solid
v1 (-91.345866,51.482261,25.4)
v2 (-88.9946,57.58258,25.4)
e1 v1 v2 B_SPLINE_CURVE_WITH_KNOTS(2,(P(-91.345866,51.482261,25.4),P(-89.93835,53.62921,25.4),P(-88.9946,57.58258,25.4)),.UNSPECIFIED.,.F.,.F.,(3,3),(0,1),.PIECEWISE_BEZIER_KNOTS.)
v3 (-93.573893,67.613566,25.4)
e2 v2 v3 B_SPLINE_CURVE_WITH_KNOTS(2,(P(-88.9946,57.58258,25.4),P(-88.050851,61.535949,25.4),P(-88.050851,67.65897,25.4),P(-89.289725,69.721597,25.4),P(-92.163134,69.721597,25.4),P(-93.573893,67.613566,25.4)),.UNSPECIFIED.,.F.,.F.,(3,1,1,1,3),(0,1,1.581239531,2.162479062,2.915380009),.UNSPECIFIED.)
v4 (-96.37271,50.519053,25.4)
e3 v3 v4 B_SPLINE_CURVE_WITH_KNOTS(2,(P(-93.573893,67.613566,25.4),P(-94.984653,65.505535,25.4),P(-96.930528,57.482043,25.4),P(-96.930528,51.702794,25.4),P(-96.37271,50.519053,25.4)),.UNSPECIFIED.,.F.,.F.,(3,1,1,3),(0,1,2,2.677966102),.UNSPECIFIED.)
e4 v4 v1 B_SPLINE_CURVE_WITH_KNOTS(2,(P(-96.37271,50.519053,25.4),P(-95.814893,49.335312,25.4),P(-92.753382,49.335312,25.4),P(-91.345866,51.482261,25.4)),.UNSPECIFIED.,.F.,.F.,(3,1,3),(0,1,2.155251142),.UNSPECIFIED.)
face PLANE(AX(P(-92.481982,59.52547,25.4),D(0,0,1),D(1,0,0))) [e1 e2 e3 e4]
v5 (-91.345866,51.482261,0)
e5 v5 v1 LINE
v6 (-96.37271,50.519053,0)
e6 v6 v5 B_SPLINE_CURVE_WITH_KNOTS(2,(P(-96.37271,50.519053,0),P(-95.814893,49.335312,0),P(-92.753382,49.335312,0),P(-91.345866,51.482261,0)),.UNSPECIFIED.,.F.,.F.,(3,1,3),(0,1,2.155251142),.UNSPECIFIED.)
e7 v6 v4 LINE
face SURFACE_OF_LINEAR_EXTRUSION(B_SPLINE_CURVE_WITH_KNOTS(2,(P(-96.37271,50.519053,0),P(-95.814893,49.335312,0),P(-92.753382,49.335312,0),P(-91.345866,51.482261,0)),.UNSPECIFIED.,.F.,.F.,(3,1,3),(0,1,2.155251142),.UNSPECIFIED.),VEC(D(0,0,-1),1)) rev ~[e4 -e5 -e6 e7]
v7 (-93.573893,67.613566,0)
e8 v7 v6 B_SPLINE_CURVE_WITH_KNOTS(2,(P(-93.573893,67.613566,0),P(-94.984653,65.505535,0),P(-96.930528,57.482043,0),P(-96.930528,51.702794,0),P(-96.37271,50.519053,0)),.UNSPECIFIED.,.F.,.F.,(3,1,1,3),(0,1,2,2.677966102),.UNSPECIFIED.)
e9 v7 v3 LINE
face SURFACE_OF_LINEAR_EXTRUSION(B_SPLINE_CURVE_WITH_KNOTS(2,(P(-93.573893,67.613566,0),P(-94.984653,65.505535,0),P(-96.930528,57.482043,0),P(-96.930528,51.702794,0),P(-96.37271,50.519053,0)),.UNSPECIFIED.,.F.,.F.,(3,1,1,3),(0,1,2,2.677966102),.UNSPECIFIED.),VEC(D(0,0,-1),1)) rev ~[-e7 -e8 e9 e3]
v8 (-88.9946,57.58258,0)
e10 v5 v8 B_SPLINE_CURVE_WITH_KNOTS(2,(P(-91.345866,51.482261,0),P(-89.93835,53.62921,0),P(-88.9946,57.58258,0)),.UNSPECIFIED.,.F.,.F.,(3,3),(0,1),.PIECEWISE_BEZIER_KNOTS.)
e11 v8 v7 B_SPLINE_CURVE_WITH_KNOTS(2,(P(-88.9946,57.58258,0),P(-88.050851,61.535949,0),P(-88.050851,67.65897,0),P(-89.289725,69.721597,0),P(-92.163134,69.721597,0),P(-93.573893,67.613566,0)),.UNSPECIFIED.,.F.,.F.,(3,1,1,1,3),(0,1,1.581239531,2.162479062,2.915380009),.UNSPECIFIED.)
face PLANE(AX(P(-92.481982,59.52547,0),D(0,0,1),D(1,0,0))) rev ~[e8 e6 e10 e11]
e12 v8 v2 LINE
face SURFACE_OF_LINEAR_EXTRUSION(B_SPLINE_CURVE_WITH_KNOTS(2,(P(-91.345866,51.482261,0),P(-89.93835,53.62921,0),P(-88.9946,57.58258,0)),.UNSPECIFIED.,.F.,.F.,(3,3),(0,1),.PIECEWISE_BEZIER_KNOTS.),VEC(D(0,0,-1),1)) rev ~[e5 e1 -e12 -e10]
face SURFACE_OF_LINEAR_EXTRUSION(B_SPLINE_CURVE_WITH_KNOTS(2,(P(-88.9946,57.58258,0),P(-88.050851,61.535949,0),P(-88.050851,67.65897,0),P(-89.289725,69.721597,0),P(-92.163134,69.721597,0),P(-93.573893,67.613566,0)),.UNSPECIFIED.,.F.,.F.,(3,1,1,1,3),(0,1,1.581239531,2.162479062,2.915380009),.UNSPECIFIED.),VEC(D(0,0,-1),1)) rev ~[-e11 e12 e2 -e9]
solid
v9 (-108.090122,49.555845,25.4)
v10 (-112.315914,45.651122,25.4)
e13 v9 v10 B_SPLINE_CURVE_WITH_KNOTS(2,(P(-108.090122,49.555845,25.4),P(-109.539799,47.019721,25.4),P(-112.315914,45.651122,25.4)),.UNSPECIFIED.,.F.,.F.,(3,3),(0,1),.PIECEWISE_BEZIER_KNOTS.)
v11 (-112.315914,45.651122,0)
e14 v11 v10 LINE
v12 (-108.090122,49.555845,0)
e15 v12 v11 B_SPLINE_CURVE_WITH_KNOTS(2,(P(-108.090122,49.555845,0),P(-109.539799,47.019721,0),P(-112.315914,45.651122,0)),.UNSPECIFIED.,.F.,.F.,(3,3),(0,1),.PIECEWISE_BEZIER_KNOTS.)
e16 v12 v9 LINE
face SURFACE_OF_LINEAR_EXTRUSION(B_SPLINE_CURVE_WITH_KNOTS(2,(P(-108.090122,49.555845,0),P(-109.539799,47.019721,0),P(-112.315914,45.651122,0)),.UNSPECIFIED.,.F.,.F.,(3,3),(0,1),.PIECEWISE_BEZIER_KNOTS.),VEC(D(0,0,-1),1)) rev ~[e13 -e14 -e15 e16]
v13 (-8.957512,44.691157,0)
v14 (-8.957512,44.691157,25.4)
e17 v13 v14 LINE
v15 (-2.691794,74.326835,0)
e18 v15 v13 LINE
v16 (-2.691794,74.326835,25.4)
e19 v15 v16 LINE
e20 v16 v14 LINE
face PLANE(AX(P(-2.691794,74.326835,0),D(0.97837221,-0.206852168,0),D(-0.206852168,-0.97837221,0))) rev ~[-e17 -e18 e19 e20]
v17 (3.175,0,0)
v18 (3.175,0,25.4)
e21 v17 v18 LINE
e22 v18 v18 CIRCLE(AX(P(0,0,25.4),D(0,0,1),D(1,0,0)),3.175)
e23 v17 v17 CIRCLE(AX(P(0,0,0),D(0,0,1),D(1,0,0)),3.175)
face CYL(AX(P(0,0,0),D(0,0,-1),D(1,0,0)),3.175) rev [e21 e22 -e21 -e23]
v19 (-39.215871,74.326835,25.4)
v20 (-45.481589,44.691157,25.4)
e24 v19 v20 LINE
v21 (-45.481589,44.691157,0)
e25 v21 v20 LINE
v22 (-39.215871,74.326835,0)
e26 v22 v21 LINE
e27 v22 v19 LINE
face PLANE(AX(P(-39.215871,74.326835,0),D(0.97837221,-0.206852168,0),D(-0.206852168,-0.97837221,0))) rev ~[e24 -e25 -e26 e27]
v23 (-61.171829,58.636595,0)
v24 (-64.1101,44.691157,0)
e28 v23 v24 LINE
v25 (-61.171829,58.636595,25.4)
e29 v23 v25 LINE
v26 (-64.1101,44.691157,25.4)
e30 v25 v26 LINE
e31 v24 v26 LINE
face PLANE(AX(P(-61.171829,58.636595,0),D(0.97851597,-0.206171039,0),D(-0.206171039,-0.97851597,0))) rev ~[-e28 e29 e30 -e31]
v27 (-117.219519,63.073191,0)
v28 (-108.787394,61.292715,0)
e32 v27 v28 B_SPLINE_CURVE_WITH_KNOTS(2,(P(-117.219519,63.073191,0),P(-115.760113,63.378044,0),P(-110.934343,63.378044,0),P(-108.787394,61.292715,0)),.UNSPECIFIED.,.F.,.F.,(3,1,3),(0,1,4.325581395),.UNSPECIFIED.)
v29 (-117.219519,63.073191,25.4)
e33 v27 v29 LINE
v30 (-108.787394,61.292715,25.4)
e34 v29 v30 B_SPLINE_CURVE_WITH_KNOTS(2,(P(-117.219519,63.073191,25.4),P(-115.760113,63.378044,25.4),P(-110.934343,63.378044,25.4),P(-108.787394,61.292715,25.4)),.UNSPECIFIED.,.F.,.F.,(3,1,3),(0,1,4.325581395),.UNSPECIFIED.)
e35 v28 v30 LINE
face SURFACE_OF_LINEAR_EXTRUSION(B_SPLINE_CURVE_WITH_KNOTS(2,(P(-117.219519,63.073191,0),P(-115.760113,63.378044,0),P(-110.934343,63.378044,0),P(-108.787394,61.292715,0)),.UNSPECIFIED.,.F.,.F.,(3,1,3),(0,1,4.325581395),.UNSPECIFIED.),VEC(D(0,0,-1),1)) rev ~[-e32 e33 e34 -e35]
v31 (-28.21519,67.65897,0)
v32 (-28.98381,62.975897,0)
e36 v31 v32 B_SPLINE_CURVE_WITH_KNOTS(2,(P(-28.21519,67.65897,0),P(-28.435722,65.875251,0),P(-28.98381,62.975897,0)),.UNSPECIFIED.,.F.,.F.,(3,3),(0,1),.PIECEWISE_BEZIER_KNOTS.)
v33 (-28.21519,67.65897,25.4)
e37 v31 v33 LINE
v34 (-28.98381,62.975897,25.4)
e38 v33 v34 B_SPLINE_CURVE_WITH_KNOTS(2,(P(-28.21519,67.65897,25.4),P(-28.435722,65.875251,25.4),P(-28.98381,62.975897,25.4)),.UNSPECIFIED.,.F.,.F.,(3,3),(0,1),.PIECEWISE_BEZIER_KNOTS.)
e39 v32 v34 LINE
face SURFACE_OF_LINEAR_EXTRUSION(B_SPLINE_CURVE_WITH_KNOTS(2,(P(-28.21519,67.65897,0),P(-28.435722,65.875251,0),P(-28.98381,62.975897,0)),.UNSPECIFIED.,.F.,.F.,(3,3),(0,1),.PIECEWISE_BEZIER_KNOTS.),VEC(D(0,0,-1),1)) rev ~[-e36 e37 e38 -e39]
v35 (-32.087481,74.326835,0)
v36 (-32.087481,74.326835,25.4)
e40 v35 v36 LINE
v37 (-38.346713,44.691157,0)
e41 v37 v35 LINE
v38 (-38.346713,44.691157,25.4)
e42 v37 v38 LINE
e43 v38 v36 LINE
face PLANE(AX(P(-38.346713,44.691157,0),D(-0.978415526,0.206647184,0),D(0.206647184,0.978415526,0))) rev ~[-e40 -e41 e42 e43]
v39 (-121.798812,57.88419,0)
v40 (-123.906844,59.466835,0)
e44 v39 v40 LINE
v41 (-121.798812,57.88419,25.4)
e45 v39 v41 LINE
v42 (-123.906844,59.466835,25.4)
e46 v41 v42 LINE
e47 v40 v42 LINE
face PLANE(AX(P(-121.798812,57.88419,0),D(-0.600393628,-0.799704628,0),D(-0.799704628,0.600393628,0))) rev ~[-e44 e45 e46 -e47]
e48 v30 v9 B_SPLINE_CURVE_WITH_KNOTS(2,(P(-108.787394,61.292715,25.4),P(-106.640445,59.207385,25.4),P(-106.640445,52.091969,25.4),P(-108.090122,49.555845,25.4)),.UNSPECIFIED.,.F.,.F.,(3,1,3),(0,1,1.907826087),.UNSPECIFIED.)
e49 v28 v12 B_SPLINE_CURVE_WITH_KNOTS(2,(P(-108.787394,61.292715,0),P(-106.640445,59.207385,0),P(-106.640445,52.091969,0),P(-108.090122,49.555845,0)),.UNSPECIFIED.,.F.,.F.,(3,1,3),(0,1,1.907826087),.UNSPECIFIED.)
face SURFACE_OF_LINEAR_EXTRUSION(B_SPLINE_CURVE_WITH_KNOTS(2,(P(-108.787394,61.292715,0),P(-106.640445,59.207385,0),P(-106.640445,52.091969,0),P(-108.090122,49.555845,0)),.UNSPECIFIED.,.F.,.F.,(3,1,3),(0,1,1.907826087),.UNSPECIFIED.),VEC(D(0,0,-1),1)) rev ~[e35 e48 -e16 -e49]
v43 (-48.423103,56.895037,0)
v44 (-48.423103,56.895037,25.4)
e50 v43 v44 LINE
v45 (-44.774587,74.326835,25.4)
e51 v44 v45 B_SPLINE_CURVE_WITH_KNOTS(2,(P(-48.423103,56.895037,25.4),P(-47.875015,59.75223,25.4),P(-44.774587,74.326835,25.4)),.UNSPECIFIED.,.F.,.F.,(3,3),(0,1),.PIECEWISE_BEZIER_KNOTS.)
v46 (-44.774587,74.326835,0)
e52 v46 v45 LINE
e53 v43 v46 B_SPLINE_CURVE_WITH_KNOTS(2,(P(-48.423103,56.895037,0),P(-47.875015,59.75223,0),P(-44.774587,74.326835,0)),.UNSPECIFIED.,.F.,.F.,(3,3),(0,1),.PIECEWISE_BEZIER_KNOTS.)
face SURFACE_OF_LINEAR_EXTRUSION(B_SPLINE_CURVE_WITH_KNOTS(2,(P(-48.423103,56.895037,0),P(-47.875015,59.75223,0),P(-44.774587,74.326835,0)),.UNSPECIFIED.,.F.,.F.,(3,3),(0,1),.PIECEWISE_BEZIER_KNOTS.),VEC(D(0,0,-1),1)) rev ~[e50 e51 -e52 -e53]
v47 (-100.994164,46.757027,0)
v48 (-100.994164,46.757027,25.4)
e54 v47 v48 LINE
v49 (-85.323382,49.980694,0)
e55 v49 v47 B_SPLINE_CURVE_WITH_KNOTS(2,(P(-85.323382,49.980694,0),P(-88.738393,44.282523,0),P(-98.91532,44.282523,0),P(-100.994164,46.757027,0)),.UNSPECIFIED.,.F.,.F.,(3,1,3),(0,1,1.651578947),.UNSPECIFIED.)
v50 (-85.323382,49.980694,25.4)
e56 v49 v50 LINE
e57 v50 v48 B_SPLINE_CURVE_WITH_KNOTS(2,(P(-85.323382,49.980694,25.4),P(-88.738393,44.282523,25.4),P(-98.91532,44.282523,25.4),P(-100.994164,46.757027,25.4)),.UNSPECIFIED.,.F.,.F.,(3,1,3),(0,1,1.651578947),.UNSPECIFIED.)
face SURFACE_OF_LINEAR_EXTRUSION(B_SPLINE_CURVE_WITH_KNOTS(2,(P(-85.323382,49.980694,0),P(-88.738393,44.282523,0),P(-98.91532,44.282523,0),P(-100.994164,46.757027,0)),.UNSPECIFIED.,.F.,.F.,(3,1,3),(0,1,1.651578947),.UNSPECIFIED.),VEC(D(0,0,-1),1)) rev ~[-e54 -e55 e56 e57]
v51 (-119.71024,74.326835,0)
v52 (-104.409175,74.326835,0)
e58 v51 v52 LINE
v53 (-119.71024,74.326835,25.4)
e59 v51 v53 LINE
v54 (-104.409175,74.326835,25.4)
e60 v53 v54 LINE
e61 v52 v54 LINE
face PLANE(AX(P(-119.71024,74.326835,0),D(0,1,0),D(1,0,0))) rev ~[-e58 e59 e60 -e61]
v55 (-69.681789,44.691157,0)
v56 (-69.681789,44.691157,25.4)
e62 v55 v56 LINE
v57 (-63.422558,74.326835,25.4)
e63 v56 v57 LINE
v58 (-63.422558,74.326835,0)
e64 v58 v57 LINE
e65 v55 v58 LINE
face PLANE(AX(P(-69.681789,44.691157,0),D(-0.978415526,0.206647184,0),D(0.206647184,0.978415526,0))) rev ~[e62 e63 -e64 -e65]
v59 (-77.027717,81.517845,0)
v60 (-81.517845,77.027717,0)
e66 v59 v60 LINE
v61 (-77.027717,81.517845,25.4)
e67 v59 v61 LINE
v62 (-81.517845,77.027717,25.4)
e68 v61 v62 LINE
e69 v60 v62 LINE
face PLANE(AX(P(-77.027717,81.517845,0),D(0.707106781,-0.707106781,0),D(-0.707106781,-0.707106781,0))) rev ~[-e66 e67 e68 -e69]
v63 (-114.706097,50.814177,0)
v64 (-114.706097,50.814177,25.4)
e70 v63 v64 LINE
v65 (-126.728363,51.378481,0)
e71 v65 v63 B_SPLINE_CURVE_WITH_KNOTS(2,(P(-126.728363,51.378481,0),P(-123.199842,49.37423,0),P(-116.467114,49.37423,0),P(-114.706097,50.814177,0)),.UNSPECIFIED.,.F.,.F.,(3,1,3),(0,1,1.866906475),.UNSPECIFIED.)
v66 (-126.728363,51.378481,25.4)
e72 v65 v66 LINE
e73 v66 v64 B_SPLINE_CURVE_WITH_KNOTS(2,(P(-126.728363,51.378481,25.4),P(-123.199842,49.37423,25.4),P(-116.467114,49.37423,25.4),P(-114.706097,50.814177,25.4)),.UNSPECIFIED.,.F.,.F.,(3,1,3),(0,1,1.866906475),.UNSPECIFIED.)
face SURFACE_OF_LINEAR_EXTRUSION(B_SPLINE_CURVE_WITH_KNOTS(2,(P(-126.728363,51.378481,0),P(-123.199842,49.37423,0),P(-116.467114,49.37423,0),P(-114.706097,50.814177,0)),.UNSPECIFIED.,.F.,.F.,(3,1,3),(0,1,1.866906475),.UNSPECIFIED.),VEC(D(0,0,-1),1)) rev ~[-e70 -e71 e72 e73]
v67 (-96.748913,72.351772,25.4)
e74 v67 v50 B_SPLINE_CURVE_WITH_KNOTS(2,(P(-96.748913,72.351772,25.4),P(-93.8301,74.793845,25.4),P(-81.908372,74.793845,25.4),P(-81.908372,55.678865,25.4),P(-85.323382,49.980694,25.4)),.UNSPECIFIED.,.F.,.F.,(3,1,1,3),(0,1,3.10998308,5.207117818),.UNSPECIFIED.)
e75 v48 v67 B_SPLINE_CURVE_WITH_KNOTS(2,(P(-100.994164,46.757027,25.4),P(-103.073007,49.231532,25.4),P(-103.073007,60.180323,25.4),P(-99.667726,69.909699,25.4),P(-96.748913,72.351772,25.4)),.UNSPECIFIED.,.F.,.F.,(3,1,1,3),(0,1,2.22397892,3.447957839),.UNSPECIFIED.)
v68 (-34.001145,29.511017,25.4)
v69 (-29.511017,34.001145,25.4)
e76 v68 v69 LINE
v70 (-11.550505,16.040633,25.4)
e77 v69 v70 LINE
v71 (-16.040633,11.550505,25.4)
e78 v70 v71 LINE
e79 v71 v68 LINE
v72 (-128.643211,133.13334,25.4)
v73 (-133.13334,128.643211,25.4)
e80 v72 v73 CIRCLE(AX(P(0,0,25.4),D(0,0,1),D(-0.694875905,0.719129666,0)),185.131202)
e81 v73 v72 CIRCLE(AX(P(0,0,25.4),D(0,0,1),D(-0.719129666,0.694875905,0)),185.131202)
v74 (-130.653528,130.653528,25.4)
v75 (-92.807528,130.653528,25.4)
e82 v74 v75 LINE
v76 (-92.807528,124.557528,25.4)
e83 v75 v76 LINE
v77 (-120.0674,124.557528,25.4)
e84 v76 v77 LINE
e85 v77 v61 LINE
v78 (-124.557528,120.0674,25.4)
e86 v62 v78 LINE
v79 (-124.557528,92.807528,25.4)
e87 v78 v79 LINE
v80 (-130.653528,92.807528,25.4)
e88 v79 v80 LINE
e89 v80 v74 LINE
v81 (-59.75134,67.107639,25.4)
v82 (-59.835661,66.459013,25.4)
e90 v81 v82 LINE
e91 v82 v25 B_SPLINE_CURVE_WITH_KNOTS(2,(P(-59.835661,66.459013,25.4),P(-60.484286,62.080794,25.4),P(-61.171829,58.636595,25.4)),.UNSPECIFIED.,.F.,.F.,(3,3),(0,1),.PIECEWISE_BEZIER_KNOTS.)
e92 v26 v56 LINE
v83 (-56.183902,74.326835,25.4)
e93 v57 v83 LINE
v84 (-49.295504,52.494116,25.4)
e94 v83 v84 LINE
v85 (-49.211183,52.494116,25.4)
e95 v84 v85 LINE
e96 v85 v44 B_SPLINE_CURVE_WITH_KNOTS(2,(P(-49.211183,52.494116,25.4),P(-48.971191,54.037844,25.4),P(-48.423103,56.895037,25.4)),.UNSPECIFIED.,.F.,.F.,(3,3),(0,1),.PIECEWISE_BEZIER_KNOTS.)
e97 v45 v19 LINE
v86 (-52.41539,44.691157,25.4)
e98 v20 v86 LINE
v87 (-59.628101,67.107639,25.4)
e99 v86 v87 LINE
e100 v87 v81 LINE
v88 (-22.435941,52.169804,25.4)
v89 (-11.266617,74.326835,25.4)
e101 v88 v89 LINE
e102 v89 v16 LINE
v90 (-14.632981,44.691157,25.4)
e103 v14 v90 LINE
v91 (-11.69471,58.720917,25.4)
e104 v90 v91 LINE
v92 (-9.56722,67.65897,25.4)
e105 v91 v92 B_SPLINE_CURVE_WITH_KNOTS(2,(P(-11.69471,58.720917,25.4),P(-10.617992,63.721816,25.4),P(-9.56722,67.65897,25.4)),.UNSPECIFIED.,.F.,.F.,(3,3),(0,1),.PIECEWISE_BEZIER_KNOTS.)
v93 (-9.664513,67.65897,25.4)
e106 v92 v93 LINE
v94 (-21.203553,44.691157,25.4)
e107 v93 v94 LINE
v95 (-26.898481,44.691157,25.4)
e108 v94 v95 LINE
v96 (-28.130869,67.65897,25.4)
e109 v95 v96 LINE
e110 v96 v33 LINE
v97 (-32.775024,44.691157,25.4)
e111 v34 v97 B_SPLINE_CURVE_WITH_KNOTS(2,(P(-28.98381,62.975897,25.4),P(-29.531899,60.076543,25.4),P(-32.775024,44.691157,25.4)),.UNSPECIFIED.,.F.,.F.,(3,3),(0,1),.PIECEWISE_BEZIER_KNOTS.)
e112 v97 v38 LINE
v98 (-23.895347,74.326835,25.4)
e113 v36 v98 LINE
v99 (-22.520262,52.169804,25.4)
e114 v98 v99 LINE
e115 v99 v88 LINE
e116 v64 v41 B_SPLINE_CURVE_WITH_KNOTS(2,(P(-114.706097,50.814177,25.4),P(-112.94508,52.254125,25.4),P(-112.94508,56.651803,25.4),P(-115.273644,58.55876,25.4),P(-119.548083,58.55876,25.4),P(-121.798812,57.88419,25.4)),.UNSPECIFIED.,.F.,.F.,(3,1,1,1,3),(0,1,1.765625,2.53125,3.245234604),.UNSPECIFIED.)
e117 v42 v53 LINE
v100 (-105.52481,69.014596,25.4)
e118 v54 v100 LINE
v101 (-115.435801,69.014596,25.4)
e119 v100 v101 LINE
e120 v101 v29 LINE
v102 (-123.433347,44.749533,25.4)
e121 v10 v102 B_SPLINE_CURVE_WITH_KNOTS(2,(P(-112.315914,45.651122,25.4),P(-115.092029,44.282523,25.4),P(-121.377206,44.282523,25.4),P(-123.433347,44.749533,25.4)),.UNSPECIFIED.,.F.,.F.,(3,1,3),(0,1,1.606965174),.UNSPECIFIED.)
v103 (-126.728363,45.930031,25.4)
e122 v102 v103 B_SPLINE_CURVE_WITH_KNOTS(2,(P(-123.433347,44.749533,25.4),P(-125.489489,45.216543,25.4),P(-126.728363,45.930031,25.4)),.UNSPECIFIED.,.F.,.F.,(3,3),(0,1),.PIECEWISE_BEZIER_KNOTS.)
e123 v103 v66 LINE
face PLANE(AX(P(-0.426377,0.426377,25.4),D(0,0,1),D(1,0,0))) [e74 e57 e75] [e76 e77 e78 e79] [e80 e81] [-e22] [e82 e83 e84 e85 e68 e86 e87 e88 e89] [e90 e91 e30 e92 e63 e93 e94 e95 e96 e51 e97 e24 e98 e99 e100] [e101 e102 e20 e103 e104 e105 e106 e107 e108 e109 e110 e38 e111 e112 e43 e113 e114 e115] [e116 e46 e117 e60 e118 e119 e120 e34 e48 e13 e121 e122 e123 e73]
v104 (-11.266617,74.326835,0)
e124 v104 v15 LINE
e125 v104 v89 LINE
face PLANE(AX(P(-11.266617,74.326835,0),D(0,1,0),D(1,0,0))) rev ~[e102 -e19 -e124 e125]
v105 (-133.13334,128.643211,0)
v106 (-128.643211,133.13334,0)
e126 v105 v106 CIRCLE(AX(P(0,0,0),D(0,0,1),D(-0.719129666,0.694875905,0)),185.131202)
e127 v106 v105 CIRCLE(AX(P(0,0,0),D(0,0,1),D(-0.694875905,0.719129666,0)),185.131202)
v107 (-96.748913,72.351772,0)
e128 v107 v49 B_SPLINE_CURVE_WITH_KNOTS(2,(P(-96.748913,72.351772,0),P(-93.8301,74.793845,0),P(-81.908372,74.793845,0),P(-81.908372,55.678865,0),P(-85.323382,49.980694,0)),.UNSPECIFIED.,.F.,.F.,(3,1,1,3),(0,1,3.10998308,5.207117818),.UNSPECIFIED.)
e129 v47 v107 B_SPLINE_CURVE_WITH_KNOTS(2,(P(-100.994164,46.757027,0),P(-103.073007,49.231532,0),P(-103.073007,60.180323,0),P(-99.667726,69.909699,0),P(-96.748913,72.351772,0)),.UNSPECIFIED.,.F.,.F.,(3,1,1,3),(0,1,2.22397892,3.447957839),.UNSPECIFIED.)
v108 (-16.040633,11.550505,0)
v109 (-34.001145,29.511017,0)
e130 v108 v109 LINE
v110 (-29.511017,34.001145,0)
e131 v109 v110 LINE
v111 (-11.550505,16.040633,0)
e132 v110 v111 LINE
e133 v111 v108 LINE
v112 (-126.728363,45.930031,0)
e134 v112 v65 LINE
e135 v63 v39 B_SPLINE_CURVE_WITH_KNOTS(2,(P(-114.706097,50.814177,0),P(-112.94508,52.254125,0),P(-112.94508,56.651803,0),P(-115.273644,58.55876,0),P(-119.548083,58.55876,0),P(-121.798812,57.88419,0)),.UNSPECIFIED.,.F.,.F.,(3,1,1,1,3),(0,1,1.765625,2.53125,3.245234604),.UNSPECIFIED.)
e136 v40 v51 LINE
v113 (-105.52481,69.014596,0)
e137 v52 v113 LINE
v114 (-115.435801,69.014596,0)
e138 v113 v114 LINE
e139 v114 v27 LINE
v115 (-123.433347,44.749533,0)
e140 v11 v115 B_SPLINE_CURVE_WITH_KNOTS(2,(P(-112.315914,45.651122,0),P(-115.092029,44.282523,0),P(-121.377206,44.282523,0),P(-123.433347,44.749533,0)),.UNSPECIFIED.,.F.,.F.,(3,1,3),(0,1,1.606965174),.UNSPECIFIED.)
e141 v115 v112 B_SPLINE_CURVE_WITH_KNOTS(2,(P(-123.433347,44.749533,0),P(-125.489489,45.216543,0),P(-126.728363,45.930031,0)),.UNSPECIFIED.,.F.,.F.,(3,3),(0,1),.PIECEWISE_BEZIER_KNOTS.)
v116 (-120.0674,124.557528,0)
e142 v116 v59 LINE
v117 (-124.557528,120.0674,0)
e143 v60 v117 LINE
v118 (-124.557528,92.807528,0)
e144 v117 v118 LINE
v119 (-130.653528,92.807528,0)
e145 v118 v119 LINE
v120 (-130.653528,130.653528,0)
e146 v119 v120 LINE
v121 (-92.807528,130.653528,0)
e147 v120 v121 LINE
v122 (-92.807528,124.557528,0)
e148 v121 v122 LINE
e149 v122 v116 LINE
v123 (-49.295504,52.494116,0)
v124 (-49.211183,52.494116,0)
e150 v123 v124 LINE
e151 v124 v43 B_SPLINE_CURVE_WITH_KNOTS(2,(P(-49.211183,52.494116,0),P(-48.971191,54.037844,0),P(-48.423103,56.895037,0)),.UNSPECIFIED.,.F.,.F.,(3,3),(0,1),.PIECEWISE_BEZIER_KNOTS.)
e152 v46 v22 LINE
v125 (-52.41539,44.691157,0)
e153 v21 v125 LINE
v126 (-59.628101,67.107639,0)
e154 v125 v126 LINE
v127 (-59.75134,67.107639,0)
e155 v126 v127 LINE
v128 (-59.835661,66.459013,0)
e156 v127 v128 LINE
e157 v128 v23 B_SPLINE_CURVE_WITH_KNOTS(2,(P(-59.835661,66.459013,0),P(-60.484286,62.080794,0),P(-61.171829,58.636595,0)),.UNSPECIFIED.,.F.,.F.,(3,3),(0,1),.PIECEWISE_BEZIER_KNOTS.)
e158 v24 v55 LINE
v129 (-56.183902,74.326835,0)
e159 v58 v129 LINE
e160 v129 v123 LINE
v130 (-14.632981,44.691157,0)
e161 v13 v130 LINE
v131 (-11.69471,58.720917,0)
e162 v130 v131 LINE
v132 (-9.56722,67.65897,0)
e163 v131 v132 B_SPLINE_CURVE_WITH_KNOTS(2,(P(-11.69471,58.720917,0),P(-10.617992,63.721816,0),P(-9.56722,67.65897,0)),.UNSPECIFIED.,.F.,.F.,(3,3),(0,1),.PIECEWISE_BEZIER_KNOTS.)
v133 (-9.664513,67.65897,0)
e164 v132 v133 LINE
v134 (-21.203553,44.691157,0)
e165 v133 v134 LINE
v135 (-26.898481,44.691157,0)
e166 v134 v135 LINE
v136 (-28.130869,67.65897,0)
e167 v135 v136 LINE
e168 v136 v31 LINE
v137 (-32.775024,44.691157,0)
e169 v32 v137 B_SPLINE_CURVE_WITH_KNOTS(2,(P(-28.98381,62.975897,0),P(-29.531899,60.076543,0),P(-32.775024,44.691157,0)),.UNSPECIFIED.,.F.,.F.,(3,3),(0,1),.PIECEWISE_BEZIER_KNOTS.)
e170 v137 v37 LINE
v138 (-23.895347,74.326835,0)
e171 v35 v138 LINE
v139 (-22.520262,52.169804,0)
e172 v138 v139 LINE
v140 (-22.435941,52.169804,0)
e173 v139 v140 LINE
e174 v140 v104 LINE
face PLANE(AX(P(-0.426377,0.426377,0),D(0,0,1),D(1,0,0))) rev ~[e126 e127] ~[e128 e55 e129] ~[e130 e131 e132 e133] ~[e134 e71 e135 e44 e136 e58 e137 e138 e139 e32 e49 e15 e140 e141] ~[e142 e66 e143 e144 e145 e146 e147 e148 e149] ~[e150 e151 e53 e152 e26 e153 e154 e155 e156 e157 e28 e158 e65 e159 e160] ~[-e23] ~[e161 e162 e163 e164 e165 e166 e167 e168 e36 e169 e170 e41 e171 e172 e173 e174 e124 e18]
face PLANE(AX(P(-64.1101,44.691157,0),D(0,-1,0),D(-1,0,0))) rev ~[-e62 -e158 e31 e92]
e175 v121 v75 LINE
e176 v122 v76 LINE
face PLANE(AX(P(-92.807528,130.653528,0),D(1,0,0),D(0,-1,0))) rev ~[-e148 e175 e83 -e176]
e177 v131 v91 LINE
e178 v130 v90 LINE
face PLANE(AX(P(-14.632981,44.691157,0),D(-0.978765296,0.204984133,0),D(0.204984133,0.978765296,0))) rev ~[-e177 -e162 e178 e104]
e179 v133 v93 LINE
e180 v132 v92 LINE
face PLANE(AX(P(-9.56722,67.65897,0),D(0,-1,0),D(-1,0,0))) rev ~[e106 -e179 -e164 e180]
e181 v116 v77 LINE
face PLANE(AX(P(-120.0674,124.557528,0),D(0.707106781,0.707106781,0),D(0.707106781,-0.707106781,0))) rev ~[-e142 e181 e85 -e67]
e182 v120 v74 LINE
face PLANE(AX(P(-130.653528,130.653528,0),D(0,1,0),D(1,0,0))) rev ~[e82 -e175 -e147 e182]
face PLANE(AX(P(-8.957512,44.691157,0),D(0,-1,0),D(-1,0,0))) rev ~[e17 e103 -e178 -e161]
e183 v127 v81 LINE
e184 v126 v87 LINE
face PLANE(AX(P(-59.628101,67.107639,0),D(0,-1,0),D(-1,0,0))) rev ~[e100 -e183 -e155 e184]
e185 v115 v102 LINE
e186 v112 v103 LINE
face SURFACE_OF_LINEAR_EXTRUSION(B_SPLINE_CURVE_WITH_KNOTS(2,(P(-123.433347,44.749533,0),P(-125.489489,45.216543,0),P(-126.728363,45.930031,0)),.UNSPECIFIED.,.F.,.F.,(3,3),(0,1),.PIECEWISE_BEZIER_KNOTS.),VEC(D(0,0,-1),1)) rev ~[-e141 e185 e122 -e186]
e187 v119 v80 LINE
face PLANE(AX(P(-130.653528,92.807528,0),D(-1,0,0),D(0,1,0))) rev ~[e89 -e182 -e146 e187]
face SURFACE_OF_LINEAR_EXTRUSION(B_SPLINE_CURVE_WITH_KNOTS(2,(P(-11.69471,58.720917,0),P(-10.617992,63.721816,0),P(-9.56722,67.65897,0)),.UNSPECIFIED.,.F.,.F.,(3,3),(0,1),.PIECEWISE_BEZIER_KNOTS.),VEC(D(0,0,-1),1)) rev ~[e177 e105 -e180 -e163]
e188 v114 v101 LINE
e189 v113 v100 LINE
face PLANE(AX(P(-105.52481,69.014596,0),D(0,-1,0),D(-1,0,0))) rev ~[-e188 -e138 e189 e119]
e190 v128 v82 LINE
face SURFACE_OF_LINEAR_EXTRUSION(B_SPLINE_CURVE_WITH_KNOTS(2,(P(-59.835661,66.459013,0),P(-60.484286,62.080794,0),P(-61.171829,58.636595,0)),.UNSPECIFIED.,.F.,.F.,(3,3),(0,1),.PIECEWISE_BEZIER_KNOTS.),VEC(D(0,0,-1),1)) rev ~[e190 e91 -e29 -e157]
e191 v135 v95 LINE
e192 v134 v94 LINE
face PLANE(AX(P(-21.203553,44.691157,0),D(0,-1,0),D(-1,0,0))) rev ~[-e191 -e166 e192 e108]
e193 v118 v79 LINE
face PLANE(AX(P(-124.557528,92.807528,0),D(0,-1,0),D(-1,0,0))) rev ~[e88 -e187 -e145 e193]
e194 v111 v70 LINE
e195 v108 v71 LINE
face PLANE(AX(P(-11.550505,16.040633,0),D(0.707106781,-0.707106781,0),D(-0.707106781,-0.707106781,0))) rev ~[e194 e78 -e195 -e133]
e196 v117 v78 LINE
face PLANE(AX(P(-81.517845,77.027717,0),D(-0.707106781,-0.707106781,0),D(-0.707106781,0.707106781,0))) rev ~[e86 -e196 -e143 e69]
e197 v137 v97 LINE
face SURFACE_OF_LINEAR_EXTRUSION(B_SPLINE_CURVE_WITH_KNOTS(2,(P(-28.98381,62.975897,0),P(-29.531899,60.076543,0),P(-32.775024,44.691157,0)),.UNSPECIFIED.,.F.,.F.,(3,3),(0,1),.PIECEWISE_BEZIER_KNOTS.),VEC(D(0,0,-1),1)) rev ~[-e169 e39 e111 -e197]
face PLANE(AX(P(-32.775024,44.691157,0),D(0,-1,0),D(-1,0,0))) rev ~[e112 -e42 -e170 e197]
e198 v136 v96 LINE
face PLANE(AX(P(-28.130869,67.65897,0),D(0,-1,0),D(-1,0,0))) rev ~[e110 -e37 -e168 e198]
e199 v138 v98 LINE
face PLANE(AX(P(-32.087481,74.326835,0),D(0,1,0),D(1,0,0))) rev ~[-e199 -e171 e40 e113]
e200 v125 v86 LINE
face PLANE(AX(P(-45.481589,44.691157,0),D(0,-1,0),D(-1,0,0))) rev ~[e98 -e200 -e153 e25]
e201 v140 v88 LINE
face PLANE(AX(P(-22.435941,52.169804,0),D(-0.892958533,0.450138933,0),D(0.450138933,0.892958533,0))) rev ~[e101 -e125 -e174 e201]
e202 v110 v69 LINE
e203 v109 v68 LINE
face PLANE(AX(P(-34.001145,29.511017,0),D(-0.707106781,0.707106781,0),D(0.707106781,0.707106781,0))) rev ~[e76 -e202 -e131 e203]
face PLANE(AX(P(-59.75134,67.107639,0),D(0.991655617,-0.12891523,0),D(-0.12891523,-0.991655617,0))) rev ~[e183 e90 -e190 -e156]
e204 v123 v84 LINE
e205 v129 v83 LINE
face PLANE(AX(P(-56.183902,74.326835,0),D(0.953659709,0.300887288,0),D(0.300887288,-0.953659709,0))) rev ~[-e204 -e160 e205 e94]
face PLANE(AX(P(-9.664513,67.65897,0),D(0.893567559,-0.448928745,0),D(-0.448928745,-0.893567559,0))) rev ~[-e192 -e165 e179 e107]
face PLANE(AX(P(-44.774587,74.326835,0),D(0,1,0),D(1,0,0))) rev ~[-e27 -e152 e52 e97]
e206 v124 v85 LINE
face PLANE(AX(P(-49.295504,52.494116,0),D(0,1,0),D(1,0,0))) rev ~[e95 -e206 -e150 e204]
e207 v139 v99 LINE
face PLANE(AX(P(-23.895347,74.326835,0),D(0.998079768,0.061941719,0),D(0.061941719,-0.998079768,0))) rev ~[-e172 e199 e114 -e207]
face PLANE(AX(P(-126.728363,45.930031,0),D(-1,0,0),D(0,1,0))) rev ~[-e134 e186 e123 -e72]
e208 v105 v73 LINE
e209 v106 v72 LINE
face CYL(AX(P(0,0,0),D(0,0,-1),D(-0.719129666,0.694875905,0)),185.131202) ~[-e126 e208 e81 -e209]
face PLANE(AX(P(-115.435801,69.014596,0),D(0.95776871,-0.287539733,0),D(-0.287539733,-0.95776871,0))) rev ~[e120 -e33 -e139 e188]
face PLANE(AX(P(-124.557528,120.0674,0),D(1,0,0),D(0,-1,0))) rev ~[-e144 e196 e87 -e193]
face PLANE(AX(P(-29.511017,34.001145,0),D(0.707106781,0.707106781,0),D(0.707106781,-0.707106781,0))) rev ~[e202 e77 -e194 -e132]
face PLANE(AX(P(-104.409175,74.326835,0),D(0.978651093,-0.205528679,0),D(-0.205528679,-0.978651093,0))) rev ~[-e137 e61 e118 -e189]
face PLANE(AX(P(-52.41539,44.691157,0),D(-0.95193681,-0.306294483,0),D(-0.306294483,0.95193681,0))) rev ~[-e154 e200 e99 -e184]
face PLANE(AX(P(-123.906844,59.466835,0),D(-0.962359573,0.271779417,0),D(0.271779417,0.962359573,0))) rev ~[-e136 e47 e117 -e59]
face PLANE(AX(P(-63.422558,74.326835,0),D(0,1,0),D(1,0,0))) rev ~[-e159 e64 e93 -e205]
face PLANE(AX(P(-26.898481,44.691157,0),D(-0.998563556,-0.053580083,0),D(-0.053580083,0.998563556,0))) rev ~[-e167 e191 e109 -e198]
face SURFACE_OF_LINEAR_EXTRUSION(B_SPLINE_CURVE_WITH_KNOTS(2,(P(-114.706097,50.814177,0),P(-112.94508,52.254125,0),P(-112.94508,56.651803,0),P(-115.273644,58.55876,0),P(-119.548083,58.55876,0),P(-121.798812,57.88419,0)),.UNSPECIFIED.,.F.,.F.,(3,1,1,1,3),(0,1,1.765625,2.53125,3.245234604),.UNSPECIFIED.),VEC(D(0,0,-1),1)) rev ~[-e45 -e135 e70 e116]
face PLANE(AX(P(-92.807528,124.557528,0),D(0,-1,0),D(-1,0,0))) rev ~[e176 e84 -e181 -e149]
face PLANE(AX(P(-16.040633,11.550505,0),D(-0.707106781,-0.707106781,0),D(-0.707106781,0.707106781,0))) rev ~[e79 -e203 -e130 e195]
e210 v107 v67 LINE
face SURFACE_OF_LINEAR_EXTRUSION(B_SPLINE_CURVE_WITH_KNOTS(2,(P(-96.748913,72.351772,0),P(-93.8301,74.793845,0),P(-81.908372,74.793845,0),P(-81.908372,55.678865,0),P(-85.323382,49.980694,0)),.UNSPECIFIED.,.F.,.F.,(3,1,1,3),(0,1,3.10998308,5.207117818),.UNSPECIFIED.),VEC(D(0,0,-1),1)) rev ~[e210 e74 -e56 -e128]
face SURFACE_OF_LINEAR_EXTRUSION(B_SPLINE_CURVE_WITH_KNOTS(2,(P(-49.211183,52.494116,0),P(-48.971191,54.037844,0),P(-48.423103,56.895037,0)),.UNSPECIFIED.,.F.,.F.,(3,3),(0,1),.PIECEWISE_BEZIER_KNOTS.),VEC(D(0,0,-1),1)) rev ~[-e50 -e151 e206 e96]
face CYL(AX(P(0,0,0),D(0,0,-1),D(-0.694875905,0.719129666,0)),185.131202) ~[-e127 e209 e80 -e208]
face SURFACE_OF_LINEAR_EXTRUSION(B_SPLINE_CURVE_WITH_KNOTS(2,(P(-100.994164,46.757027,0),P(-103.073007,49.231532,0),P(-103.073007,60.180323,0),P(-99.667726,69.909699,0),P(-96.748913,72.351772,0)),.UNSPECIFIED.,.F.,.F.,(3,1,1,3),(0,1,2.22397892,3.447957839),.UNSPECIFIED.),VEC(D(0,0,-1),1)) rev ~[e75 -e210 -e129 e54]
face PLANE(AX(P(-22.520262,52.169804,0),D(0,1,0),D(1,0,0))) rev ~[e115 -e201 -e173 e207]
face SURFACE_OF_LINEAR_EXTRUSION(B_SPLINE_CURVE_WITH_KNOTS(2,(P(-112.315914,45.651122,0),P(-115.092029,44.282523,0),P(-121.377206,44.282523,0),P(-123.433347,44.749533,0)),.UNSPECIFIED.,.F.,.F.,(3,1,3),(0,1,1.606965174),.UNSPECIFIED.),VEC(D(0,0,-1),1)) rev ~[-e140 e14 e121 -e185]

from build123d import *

# Parameters (mm, degrees)
F0_R     = 3.175
F1_DEPTH = 25.4


with BuildPart() as f1:
    # F0 (on Top) → F1 (new body)
    with BuildSketch(Plane.XY):
        with BuildLine():
            ThreePointArc((-133.1333395345, 128.643211474), (-69.377326194, -171.6401717668), (185.131202, 0))
            ThreePointArc((185.131202, 0), (72.3107515679, 170.4251071927), (-128.643211474, 133.1333395345))
            ThreePointArc((-128.643211474, 133.1333395345), (-130.9075283434, 130.9075283434), (-133.1333395345, 128.643211474))
        make_face()
        Circle(F0_R, mode=Mode.SUBTRACT)
        with BuildLine():
            add(Edge.make_bspline(
                [(-117.2195194436, 63.0731906782), (-115.760113076, 63.3780444528), (-114.6444779861, 63.3780444528)],
                knots=[0, 0, 0, 1, 1, 1], degree=2))
            add(Edge.make_bspline(
                [(-114.6444779861, 63.3780444528), (-110.9343426872, 63.3780444528), (-108.7873937642, 61.2927149098)],
                knots=[0, 0, 0, 1, 1, 1], degree=2))
            add(Edge.make_bspline(
                [(-108.7873937642, 61.2927149098), (-106.6404448413, 59.2073853668), (-106.6404448413, 55.4777913163)],
                knots=[0, 0, 0, 1, 1, 1], degree=2))
            add(Edge.make_bspline(
                [(-106.6404448413, 55.4777913163), (-106.6404448413, 52.0919685436), (-108.0901218331, 49.5558445892)],
                knots=[0, 0, 0, 1, 1, 1], degree=2))
            add(Edge.make_bspline(
                [(-108.0901218331, 49.5558445892), (-109.5397988249, 47.0197206349), (-112.3159140485, 45.6511217747)],
                knots=[0, 0, 0, 1, 1, 1], degree=2))
            add(Edge.make_bspline(
                [(-112.3159140485, 45.6511217747), (-115.0920292722, 44.2825229144), (-119.0032383373, 44.2825229144)],
                knots=[0, 0, 0, 1, 1, 1], degree=2))
            add(Edge.make_bspline(
                [(-119.0032383373, 44.2825229144), (-121.3772060285, 44.2825229144), (-123.4333474442, 44.749532952)],
                knots=[0, 0, 0, 1, 1, 1], degree=2))
            add(Edge.make_bspline(
                [(-123.4333474442, 44.749532952), (-125.4894888598, 45.2165429897), (-126.7283627096, 45.9300305471)],
                knots=[0, 0, 0, 1, 1, 1], degree=2))
            Line((-126.7283627096, 45.9300305471), (-126.7283627096, 51.3784809861))
            add(Edge.make_bspline(
                [(-126.7283627096, 51.3784809861), (-123.1998424253, 49.3742295746), (-119.5934871348, 49.3742295746)],
                knots=[0, 0, 0, 1, 1, 1], degree=2))
            add(Edge.make_bspline(
                [(-119.5934871348, 49.3742295746), (-116.4671143829, 49.3742295746), (-114.7060973661, 50.8141771906)],
                knots=[0, 0, 0, 1, 1, 1], degree=2))
            add(Edge.make_bspline(
                [(-114.7060973661, 50.8141771906), (-112.9450803492, 52.2541248066), (-112.9450803492, 54.7448450073)],
                knots=[0, 0, 0, 1, 1, 1], degree=2))
            add(Edge.make_bspline(
                [(-112.9450803492, 54.7448450073), (-112.9450803492, 56.6518026609), (-114.109362318, 57.6052814877)],
                knots=[0, 0, 0, 1, 1, 1], degree=2))
            add(Edge.make_bspline(
                [(-114.109362318, 57.6052814877), (-115.2736442868, 58.5587603145), (-117.485455715, 58.5587603145)],
                knots=[0, 0, 0, 1, 1, 1], degree=2))
            add(Edge.make_bspline(
                [(-117.485455715, 58.5587603145), (-119.5480833811, 58.5587603145), (-121.7988123125, 57.8841902602)],
                knots=[0, 0, 0, 1, 1, 1], degree=2))
            Line((-121.7988123125, 57.8841902602), (-123.9068437323, 59.4668353877))
            Line((-123.9068437323, 59.4668353877), (-119.7102396442, 74.3268353349))
            Line((-119.7102396442, 74.3268353349), (-104.4091746615, 74.3268353349))
            Line((-104.4091746615, 74.3268353349), (-105.5248097514, 69.0145961569))
            Line((-105.5248097514, 69.0145961569), (-115.4358005499, 69.0145961569))
            Line((-115.4358005499, 69.0145961569), (-117.2195194436, 63.0731906782))
        make_face(mode=Mode.SUBTRACT)
        Polygon((-11.5505048452, 16.0406329059), (-16.0406329058, 11.5505048454), (-34.0011451479, 29.5110170875), (-29.5110170874, 34.0011451481), align=None, mode=Mode.SUBTRACT)
        with BuildLine():
            add(Edge.make_bspline(
                [(-89.9967260004, 74.7938453725), (-81.9083715988, 74.7938453725), (-81.9083715988, 65.2071671002)],
                knots=[0, 0, 0, 1, 1, 1], degree=2))
            add(Edge.make_bspline(
                [(-81.9083715988, 65.2071671002), (-81.9083715988, 55.6788650825), (-85.3233824989, 49.9806939985)],
                knots=[0, 0, 0, 1, 1, 1], degree=2))
            add(Edge.make_bspline(
                [(-85.3233824989, 49.9806939985), (-88.738393399, 44.2825229144), (-94.9003313955, 44.2825229144)],
                knots=[0, 0, 0, 1, 1, 1], degree=2))
            add(Edge.make_bspline(
                [(-94.9003313955, 44.2825229144), (-98.9153204689, 44.2825229144), (-100.9941637614, 46.7570274888)],
                knots=[0, 0, 0, 1, 1, 1], degree=2))
            add(Edge.make_bspline(
                [(-100.9941637614, 46.7570274888), (-103.0730070539, 49.2315320631), (-103.0730070539, 54.1545962097)],
                knots=[0, 0, 0, 1, 1, 1], degree=2))
            add(Edge.make_bspline(
                [(-103.0730070539, 54.1545962097), (-103.0730070539, 60.1803229452), (-101.3703662917, 65.0450108371)],
                knots=[0, 0, 0, 1, 1, 1], degree=2))
            add(Edge.make_bspline(
                [(-101.3703662917, 65.0450108371), (-99.6677255295, 69.909698729), (-96.7489127944, 72.3517720507)],
                knots=[0, 0, 0, 1, 1, 1], degree=2))
            add(Edge.make_bspline(
                [(-96.7489127944, 72.3517720507), (-93.8301000592, 74.7938453725), (-89.9967260004, 74.7938453725)],
                knots=[0, 0, 0, 1, 1, 1], degree=2))
        make_face(mode=Mode.SUBTRACT)
        with BuildLine():
            Line((-39.2158706593, 74.3268353349), (-45.4815886641, 44.6911566973))
            Line((-45.4815886641, 44.6911566973), (-52.4153904727, 44.6911566973))
            Line((-52.4153904727, 44.6911566973), (-59.6281010538, 67.1076385033))
            Line((-59.6281010538, 67.1076385033), (-59.7513398137, 67.1076385033))
            Line((-59.7513398137, 67.1076385033), (-59.8356610705, 66.459013451))
            add(Edge.make_bspline(
                [(-59.8356610705, 66.459013451), (-60.4842861228, 62.0807943483), (-61.1718286782, 58.6365953208)],
                knots=[0, 0, 0, 1, 1, 1], degree=2))
            Line((-61.1718286782, 58.6365953208), (-64.1101001649, 44.6911566973))
            Line((-64.1101001649, 44.6911566973), (-69.6817893638, 44.6911566973))
            Line((-69.6817893638, 44.6911566973), (-63.4225576095, 74.3268353349))
            Line((-63.4225576095, 74.3268353349), (-56.1839020263, 74.3268353349))
            Line((-56.1839020263, 74.3268353349), (-49.2955039714, 52.494116076))
            Line((-49.2955039714, 52.494116076), (-49.2111827146, 52.494116076))
            add(Edge.make_bspline(
                [(-49.2111827146, 52.494116076), (-48.9711914453, 54.0378437003), (-48.4231032761, 56.8950370555)],
                knots=[0, 0, 0, 1, 1, 1], degree=2))
            add(Edge.make_bspline(
                [(-48.4231032761, 56.8950370555), (-47.875015107, 59.7522304107), (-44.7745873572, 74.3268353349)],
                knots=[0, 0, 0, 1, 1, 1], degree=2))
            Line((-44.7745873572, 74.3268353349), (-39.2158706593, 74.3268353349))
        make_face(mode=Mode.SUBTRACT)
        with BuildLine():
            Line((-22.5202618143, 52.1698035498), (-22.4359405575, 52.1698035498))
            Line((-22.4359405575, 52.1698035498), (-11.2666171577, 74.3268353349))
            Line((-11.2666171577, 74.3268353349), (-2.6917939669, 74.3268353349))
            Line((-2.6917939669, 74.3268353349), (-8.9575119716, 44.6911566973))
            Line((-8.9575119716, 44.6911566973), (-14.6329811789, 44.6911566973))
            Line((-14.6329811789, 44.6911566973), (-11.6947096922, 58.7209165776))
            add(Edge.make_bspline(
                [(-11.6947096922, 58.7209165776), (-10.6179921054, 63.7218157305), (-9.5672195208, 67.6589697977)],
                knots=[0, 0, 0, 1, 1, 1], degree=2))
            Line((-9.5672195208, 67.6589697977), (-9.6645132786, 67.6589697977))
            Line((-9.6645132786, 67.6589697977), (-21.2035529582, 44.6911566973))
            Line((-21.2035529582, 44.6911566973), (-26.898480917, 44.6911566973))
            Line((-26.898480917, 44.6911566973), (-28.1308685163, 67.6589697977))
            Line((-28.1308685163, 67.6589697977), (-28.2151897731, 67.6589697977))
            add(Edge.make_bspline(
                [(-28.2151897731, 67.6589697977), (-28.4357222909, 65.875250904), (-28.98381046, 62.9758969204)],
                knots=[0, 0, 0, 1, 1, 1], degree=2))
            add(Edge.make_bspline(
                [(-28.98381046, 62.9758969204), (-29.5318986292, 60.0765429368), (-32.7750238905, 44.6911566973)],
                knots=[0, 0, 0, 1, 1, 1], degree=2))
            Line((-32.7750238905, 44.6911566973), (-38.3467130893, 44.6911566973))
            Line((-38.3467130893, 44.6911566973), (-32.0874813351, 74.3268353349))
            Line((-32.0874813351, 74.3268353349), (-23.8953469251, 74.3268353349))
            Line((-23.8953469251, 74.3268353349), (-22.5202618143, 52.1698035498))
        make_face(mode=Mode.SUBTRACT)
        Polygon((-92.8075283434, 124.5575283434), (-120.0674002829, 124.5575283434), (-77.0277165371, 81.5178445977), (-81.5178445976, 77.0277165372), (-124.5575283434, 120.0674002829), (-124.5575283434, 92.8075283434), (-130.6535283434, 92.8075283434), (-130.6535283434, 130.6535283434), (-92.8075283434, 130.6535283434), align=None, mode=Mode.SUBTRACT)
    extrude(amount=F1_DEPTH)


with BuildPart() as f1b:
    # F0 (on Top) → F1, piece 2 (new body)
    with BuildSketch(Plane.XY):
        with BuildLine():
            add(Edge.make_bspline(
                [(-88.6702877685, 68.6902836308), (-89.2897246934, 69.7215974639), (-90.5415710443, 69.7215974639)],
                knots=[0, 0, 0, 1, 1, 1], degree=2))
            add(Edge.make_bspline(
                [(-90.5415710443, 69.7215974639), (-92.1631336749, 69.7215974639), (-93.5738931636, 67.613566044)],
                knots=[0, 0, 0, 1, 1, 1], degree=2))
            add(Edge.make_bspline(
                [(-93.5738931636, 67.613566044), (-94.9846526522, 65.5055346242), (-95.9575902306, 61.493788676)],
                knots=[0, 0, 0, 1, 1, 1], degree=2))
            add(Edge.make_bspline(
                [(-95.9575902306, 61.493788676), (-96.930527809, 57.4820427278), (-96.930527809, 54.0378437003)],
                knots=[0, 0, 0, 1, 1, 1], degree=2))
            add(Edge.make_bspline(
                [(-96.930527809, 54.0378437003), (-96.930527809, 51.7027935122), (-96.3727102641, 50.5190527918)],
                knots=[0, 0, 0, 1, 1, 1], degree=2))
            add(Edge.make_bspline(
                [(-96.3727102641, 50.5190527918), (-95.8148927191, 49.3353120715), (-94.3944038547, 49.3353120715)],
                knots=[0, 0, 0, 1, 1, 1], degree=2))
            add(Edge.make_bspline(
                [(-94.3944038547, 49.3353120715), (-92.7533824725, 49.3353120715), (-91.3458661091, 51.4822609944)],
                knots=[0, 0, 0, 1, 1, 1], degree=2))
            add(Edge.make_bspline(
                [(-91.3458661091, 51.4822609944), (-89.9383497457, 53.6292099174), (-88.9946002947, 57.5825796109)],
                knots=[0, 0, 0, 1, 1, 1], degree=2))
            add(Edge.make_bspline(
                [(-88.9946002947, 57.5825796109), (-88.0508508436, 61.5359493044), (-88.0508508436, 65.4082408664)],
                knots=[0, 0, 0, 1, 1, 1], degree=2))
            add(Edge.make_bspline(
                [(-88.0508508436, 65.4082408664), (-88.0508508436, 67.6589697977), (-88.6702877685, 68.6902836308)],
                knots=[0, 0, 0, 1, 1, 1], degree=2))
        make_face()
    extrude(amount=F1_DEPTH)


solid = Compound([f1.part, f1b.part])
